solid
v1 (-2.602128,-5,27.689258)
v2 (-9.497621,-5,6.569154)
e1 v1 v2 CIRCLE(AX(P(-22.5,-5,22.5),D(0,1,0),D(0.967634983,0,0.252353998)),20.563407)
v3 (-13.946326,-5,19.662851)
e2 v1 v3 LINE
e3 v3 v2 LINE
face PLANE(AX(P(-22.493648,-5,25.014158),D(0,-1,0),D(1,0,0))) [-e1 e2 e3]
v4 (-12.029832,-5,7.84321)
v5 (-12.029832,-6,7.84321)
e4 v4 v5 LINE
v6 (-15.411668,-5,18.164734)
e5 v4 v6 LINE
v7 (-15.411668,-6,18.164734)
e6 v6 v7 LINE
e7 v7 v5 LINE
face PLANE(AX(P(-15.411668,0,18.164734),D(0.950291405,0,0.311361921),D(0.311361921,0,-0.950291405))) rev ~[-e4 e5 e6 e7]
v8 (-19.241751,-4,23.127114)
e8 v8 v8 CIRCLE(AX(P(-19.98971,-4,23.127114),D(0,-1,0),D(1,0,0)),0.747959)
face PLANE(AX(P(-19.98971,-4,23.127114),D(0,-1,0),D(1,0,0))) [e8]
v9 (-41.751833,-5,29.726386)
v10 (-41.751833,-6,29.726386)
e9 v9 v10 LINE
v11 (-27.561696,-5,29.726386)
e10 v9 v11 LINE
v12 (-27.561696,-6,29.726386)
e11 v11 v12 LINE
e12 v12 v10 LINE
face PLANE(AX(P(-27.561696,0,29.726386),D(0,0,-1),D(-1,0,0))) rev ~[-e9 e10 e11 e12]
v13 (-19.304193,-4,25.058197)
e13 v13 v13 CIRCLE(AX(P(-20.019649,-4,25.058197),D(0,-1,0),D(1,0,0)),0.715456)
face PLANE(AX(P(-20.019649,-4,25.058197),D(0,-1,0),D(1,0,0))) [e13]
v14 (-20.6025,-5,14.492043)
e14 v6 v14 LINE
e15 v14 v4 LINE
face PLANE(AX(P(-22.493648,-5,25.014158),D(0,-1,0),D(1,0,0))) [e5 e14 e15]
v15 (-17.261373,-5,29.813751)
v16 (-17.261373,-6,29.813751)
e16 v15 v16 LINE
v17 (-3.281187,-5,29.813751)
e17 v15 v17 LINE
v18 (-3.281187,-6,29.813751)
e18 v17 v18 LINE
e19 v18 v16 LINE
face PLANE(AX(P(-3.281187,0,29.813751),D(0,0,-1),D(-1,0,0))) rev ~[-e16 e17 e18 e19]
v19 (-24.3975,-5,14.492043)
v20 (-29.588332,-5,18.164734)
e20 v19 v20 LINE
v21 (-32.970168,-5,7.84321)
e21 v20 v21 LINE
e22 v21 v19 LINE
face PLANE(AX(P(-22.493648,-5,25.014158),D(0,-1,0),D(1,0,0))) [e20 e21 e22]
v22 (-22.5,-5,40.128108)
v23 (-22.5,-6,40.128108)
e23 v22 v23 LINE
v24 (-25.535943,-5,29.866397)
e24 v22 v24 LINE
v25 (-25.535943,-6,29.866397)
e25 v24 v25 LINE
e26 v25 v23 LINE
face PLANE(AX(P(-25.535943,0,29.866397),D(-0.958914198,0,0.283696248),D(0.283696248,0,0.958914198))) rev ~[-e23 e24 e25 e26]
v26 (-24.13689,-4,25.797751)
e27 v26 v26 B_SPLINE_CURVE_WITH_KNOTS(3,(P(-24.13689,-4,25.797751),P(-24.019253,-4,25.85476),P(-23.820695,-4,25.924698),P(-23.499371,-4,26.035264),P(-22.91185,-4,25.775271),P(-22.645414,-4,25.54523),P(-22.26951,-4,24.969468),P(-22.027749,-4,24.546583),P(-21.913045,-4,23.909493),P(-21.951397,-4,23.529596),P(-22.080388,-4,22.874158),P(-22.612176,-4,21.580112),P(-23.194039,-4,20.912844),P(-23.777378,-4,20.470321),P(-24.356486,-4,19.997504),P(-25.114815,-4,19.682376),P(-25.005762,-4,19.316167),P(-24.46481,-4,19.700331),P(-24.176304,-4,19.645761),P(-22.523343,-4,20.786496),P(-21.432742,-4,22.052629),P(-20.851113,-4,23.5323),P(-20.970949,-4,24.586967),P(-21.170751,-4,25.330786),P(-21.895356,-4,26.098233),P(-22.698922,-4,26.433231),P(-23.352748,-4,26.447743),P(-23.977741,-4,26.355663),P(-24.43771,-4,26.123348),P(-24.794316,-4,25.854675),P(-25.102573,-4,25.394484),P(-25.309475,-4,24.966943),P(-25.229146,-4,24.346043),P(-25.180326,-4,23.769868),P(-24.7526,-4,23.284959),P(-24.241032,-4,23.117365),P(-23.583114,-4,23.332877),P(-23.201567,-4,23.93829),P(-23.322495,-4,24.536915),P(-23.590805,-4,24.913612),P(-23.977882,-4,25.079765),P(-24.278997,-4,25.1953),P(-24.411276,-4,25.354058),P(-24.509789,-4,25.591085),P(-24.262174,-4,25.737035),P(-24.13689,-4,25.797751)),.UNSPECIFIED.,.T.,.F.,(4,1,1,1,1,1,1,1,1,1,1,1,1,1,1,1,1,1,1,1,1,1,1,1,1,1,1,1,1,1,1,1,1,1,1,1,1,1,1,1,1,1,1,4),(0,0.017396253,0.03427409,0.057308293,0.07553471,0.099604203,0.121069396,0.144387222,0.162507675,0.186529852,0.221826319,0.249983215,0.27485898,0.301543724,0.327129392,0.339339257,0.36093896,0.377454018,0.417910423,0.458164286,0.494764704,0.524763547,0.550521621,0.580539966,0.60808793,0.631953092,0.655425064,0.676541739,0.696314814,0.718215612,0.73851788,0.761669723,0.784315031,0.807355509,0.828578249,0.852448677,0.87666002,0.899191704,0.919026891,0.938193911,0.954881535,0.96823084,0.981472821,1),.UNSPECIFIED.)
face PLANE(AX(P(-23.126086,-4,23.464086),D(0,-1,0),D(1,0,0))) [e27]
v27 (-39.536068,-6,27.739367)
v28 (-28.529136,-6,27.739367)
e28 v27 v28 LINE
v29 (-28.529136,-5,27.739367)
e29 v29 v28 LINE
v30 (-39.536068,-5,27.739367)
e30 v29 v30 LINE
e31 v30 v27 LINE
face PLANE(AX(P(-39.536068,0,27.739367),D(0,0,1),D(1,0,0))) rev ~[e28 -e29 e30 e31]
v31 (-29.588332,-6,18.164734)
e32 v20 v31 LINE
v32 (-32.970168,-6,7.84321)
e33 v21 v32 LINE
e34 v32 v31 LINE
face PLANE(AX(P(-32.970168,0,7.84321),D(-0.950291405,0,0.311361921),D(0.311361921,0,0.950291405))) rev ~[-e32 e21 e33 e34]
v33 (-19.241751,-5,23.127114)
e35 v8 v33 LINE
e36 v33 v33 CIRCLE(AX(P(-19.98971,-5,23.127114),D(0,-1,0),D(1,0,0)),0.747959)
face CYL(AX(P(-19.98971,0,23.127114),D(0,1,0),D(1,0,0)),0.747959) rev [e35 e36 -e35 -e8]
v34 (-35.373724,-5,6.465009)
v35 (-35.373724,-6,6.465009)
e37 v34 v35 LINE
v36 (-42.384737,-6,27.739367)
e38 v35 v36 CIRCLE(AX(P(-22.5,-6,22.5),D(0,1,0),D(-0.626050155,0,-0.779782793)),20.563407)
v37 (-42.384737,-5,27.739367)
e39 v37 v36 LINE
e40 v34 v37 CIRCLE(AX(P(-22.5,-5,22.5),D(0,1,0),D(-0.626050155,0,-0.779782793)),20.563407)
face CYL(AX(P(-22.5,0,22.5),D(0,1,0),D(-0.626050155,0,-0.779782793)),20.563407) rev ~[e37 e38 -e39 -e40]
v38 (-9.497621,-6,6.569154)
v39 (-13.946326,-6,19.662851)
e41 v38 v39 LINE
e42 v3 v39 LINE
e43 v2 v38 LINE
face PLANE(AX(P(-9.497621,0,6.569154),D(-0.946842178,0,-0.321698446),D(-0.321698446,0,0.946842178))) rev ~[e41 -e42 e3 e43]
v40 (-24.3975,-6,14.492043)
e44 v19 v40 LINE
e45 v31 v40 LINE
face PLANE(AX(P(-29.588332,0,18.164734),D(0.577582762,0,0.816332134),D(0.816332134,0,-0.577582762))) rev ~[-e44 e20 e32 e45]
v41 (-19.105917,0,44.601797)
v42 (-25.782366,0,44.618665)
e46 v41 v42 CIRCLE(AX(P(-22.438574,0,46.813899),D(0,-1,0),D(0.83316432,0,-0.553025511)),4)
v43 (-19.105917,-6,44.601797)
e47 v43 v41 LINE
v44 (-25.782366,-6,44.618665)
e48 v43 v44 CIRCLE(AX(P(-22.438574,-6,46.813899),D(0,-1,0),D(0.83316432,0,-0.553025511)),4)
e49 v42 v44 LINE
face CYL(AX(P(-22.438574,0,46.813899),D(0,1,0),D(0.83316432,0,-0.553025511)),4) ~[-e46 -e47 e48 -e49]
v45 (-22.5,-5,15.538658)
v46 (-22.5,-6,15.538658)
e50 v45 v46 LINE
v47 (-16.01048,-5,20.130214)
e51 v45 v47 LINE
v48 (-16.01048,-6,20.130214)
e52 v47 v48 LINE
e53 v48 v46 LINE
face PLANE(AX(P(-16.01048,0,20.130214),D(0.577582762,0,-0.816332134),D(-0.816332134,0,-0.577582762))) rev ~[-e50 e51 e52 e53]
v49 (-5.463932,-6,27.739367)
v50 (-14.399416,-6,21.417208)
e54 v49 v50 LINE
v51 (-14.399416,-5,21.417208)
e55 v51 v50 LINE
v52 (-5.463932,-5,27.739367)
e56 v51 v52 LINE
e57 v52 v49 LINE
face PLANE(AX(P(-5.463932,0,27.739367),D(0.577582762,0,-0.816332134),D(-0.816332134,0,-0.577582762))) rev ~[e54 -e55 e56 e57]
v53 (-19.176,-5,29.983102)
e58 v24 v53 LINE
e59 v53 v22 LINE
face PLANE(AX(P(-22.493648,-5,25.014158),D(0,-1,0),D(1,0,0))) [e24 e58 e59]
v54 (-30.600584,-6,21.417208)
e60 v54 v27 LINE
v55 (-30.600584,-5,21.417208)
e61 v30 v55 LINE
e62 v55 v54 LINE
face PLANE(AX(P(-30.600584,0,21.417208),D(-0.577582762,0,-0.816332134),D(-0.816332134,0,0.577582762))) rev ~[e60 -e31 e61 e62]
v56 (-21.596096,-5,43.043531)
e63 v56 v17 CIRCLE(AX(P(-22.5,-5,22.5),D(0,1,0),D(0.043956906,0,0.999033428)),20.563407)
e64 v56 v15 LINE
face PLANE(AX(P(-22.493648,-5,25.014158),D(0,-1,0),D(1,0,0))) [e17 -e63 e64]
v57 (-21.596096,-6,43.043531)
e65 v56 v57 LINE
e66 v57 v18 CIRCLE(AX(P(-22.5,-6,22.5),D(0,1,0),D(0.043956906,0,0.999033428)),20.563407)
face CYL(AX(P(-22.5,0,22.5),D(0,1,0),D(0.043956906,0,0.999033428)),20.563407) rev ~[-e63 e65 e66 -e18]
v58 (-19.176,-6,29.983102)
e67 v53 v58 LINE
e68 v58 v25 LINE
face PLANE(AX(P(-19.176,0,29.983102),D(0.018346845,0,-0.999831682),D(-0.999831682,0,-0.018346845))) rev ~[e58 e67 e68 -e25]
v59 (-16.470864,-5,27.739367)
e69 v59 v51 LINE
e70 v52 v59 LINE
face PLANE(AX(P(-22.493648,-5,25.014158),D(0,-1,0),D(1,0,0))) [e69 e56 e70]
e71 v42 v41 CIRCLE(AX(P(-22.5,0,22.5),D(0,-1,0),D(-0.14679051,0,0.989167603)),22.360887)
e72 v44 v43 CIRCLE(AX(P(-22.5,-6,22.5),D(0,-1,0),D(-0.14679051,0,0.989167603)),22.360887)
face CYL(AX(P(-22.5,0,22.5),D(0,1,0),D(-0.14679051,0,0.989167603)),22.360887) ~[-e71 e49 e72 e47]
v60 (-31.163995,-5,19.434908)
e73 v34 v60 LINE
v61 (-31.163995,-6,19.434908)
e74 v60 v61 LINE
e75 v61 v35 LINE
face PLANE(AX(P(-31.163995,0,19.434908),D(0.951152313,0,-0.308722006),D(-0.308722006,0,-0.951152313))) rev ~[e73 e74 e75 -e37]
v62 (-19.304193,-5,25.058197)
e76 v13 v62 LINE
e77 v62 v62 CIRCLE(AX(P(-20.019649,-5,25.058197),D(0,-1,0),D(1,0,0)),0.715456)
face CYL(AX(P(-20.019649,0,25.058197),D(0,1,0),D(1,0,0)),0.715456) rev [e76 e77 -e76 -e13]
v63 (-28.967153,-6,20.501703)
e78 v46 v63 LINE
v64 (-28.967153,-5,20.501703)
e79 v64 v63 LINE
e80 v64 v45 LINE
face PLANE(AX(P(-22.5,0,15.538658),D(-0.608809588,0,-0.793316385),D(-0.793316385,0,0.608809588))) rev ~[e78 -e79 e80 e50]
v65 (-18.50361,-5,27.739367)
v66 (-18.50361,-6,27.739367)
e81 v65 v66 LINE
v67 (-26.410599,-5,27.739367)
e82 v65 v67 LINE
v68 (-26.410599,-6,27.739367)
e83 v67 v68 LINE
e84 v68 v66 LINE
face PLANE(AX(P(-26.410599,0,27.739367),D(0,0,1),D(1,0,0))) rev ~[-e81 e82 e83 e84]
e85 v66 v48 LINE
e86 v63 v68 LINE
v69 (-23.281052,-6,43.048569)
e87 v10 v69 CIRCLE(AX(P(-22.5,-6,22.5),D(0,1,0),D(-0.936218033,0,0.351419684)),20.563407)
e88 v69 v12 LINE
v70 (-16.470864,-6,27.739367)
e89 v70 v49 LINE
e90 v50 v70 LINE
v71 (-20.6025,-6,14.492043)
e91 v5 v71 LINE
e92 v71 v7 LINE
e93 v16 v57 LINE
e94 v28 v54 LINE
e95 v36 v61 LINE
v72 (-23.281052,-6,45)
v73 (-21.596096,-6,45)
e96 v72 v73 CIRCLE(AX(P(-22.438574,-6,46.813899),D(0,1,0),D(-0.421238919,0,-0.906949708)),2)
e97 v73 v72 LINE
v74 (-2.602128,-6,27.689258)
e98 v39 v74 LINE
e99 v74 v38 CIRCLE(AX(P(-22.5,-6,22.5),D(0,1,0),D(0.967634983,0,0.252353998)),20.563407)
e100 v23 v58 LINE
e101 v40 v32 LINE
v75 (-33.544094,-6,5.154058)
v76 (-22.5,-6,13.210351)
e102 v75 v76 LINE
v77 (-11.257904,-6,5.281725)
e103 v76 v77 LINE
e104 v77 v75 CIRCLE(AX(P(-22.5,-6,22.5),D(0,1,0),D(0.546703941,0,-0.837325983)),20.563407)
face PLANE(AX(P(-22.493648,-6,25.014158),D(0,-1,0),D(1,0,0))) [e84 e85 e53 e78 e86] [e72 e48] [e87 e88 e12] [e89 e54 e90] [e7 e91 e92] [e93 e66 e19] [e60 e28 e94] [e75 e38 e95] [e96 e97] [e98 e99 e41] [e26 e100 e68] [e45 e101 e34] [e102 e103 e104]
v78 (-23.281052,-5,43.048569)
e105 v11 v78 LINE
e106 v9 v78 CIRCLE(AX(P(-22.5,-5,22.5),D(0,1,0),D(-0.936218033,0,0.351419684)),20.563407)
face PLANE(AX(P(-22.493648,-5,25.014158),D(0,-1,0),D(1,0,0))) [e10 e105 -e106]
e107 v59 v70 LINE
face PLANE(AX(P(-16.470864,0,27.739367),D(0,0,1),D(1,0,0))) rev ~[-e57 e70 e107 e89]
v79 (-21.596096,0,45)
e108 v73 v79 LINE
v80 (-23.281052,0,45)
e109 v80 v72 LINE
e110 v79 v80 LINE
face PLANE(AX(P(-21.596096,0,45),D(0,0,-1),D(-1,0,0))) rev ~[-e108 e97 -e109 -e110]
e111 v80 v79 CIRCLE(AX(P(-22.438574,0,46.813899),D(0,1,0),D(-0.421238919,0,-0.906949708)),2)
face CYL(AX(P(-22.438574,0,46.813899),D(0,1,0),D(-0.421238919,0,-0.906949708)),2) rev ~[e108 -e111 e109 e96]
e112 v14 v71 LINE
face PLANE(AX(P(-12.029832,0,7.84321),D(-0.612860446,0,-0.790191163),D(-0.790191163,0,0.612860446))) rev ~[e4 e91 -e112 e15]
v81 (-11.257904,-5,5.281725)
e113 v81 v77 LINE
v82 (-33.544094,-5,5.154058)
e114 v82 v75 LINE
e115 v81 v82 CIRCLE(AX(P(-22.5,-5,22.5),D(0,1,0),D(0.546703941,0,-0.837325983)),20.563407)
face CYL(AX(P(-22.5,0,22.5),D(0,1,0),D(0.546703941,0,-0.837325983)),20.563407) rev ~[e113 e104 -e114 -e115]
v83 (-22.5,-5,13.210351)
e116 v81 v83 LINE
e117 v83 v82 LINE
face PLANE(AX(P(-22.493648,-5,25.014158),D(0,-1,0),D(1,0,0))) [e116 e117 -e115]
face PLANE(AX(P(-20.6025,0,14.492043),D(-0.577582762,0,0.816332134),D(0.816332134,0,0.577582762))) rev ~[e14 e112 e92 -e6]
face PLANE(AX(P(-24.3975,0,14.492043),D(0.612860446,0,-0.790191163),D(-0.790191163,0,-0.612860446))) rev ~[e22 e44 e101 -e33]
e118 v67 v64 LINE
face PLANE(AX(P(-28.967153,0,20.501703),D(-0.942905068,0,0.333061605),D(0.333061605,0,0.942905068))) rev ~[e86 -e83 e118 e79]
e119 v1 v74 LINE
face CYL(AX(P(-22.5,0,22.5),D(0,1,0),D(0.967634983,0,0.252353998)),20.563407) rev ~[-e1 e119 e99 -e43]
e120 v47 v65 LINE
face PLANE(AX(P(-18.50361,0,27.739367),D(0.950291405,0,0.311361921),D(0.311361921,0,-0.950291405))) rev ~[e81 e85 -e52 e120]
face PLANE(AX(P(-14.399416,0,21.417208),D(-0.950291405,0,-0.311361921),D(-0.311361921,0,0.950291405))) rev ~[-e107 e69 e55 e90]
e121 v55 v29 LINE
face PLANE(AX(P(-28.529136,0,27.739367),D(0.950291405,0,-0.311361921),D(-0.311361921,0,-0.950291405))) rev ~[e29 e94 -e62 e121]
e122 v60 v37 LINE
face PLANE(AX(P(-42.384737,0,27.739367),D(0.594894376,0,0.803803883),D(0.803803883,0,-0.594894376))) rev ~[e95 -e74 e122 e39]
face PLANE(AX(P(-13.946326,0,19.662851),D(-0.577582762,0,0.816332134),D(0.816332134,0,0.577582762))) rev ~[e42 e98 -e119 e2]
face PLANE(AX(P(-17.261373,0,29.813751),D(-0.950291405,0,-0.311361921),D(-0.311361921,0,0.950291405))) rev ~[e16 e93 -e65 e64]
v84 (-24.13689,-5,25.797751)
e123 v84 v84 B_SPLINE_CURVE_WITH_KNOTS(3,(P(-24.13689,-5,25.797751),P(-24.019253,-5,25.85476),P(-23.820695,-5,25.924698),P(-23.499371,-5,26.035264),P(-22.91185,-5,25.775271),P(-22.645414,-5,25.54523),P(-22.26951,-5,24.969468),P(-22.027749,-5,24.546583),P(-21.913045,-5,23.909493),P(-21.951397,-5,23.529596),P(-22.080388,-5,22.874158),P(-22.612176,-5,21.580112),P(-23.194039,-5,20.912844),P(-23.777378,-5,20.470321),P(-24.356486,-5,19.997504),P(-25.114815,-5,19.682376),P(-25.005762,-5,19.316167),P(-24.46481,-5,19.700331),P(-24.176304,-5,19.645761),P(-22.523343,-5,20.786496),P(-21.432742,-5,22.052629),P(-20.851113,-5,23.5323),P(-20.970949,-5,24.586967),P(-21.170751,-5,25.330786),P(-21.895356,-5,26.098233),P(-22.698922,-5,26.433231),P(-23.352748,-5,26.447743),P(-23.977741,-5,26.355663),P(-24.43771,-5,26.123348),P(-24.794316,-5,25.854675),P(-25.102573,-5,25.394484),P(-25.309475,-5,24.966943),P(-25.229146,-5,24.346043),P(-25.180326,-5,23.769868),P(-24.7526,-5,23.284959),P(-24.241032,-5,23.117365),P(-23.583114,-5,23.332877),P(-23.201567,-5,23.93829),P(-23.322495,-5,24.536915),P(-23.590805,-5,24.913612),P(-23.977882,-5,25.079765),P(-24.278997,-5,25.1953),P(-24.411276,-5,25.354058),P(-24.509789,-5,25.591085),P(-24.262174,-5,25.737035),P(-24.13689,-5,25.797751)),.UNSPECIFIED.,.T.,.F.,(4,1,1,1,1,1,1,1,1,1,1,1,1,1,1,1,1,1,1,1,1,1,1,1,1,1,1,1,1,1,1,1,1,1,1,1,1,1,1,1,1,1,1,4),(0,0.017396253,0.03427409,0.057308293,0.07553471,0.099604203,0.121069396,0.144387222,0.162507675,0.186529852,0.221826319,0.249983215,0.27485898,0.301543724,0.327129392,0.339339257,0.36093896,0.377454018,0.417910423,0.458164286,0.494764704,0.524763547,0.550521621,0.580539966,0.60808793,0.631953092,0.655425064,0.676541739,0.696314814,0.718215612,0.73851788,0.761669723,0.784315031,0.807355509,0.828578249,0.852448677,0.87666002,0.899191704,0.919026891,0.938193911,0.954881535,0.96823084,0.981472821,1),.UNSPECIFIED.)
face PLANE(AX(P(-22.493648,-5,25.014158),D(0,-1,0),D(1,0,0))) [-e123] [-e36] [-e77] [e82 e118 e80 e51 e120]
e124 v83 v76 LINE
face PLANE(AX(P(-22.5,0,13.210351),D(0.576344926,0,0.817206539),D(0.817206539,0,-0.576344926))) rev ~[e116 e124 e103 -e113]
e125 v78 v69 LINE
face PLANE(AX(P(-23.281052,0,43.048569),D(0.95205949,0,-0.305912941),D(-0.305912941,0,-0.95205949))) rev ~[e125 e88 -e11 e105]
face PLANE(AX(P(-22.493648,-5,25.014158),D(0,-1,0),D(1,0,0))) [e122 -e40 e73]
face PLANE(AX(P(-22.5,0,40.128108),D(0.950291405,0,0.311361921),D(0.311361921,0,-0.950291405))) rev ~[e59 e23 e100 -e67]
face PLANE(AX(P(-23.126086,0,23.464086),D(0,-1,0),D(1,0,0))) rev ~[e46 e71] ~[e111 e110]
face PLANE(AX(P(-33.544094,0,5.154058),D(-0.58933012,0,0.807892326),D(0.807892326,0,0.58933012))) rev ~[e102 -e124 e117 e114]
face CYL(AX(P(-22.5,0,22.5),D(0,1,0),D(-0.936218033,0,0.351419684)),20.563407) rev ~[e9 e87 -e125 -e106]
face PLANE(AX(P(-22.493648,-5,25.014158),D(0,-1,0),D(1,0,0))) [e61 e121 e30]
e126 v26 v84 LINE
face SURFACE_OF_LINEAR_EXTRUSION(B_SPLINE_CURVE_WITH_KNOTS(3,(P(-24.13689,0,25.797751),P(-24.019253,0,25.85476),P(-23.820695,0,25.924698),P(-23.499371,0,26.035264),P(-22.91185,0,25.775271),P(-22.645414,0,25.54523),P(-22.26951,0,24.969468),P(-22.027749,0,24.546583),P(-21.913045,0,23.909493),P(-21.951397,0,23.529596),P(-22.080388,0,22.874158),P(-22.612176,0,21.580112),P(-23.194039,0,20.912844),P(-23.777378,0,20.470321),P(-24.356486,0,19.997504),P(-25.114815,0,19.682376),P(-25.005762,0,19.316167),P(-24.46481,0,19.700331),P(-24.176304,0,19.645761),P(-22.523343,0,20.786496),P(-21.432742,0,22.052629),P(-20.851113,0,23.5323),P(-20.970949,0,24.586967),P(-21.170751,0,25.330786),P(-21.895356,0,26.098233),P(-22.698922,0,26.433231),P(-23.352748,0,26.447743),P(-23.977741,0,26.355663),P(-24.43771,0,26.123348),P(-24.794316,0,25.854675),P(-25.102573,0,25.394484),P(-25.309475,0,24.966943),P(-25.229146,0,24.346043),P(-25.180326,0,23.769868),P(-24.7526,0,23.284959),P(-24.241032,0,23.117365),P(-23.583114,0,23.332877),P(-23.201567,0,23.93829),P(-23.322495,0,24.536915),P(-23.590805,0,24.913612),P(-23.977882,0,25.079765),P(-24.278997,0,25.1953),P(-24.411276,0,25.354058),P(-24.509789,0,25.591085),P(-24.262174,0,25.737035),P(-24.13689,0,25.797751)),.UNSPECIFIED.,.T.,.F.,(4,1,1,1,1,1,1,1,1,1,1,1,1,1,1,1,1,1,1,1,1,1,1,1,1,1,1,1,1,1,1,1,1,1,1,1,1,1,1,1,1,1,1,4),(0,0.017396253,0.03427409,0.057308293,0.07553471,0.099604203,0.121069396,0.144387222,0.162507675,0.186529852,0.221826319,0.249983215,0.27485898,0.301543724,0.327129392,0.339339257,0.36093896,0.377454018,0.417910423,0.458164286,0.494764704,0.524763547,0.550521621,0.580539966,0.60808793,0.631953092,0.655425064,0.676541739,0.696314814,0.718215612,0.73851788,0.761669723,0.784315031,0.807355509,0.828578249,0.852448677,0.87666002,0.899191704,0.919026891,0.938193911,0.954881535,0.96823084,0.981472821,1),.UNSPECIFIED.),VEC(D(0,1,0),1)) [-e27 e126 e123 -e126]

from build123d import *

# Parameters (mm, degrees)
F0_R     = 0.7479592016
F0_R_2   = 0.7154556478
F1_DEPTH = 5
F2_DEPTH = 6
F3_DEPTH = 4


with BuildPart() as f1:
    # F0 (on Front) → F1 (new body)
    with BuildSketch(Plane.XZ):
        with BuildLine():
            ThreePointArc((-19.1059168052, 44.601797374), (-22.4284686377, 50.813886651), (-25.7823659332, 44.6186645568))
            ThreePointArc((-25.7823659332, 44.6186645568), (-22.5564916994, 0.1391847961), (-19.1059168052, 44.601797374))
        make_face()
        with BuildLine():
            ThreePointArc((-35.3737242613, 6.4650089014), (-42.0302013856, 16.0637783035), (-42.3847366474, 27.7393667893))
            Line((-42.3847366474, 27.7393667893), (-31.1639953467, 19.4349084049))
            Line((-31.1639953467, 19.4349084049), (-35.3737242613, 6.4650089014))
        make_face(mode=Mode.SUBTRACT)
        Polygon((-39.5360679381, 27.7393667893), (-28.5291355848, 27.7393667893), (-30.6005839361, 21.4172078039), align=None, mode=Mode.SUBTRACT)
        Polygon((-29.5883324513, 18.1647339323), (-24.3974999338, 14.492043294), (-32.9701682877, 7.8432099579), align=None, mode=Mode.SUBTRACT)
        with BuildLine():
            ThreePointArc((-11.2579042464, 5.2817248554), (-22.3822039471, 1.9369301908), (-33.5440937819, 5.1540578687))
            Line((-33.5440937819, 5.1540578687), (-22.5, 13.2103506476))
            Line((-22.5, 13.2103506476), (-11.2579042464, 5.2817248554))
        make_face(mode=Mode.SUBTRACT)
        Polygon((-12.0298317123, 7.8432099579), (-20.6025000662, 14.492043294), (-15.4116675487, 18.1647339323), align=None, mode=Mode.SUBTRACT)
        Polygon((-16.0104798027, 20.1302143785), (-22.5, 15.5386580154), (-28.967153281, 20.5017030239), (-26.4105990855, 27.7393667893), (-18.5036101167, 27.7393667893), align=None, mode=Mode.SUBTRACT)
        with BuildLine():
            ThreePointArc((-2.6021278232, 27.6892580129), (-2.9520760141, 16.1178072945), (-9.4976208394, 6.5691540698))
            Line((-9.4976208394, 6.5691540698), (-13.9463264495, 19.6628514677))
            Line((-13.9463264495, 19.6628514677), (-2.6021278232, 27.6892580129))
        make_face(mode=Mode.SUBTRACT)
        Polygon((-14.3994160639, 21.4172078039), (-16.4708644152, 27.7393667893), (-5.4639320619, 27.7393667893), align=None, mode=Mode.SUBTRACT)
        with BuildLine():
            ThreePointArc((-41.7518326466, 29.7263860703), (-34.5291002687, 39.1779633833), (-23.2810519253, 43.0485686552))
            Line((-23.2810519253, 43.0485686552), (-27.5616962463, 29.7263860703))
            Line((-27.5616962463, 29.7263860703), (-41.7518326466, 29.7263860703))
        make_face(mode=Mode.SUBTRACT)
        Polygon((-19.1760000154, 29.9831019124), (-25.5359429866, 29.8663973808), (-22.5, 40.128108114), align=None, mode=Mode.SUBTRACT)
        with BuildLine():
            ThreePointArc((-21.596096248, 43.0435311934), (-10.4589160289, 39.1693135038), (-3.281187186, 29.8137507415))
            Line((-3.281187186, 29.8137507415), (-17.2613734154, 29.8137507415))
            Line((-17.2613734154, 29.8137507415), (-21.596096248, 43.0435311934))
        make_face(mode=Mode.SUBTRACT)
        with BuildLine():
            ThreePointArc((-23.2810519253, 45), (-22.4385740867, 48.813899416), (-21.596096248, 45))
            Line((-21.596096248, 45), (-23.2810519253, 45))
        make_face(mode=Mode.SUBTRACT)
        with BuildLine():
            Line((-27.5616962463, 29.7263860703), (-23.2810519253, 43.0485686552))
            ThreePointArc((-23.2810519253, 43.0485686552), (-34.5291002687, 39.1779633833), (-41.7518326466, 29.7263860703))
            Line((-41.7518326466, 29.7263860703), (-27.5616962463, 29.7263860703))
        make_face()
        with BuildLine():
            Line((-17.2613734154, 29.8137507415), (-3.281187186, 29.8137507415))
            ThreePointArc((-3.281187186, 29.8137507415), (-10.4589160289, 39.1693135038), (-21.596096248, 43.0435311934))
            Line((-21.596096248, 43.0435311934), (-17.2613734154, 29.8137507415))
        make_face()
        with BuildLine():
            Line((-13.9463264495, 19.6628514677), (-9.4976208394, 6.5691540698))
            ThreePointArc((-9.4976208394, 6.5691540698), (-2.9520760141, 16.1178072945), (-2.6021278232, 27.6892580129))
            Line((-2.6021278232, 27.6892580129), (-13.9463264495, 19.6628514677))
        make_face()
        with BuildLine():
            Line((-31.1639953467, 19.4349084049), (-42.3847366474, 27.7393667893))
            ThreePointArc((-42.3847366474, 27.7393667893), (-42.0302013856, 16.0637783035), (-35.3737242613, 6.4650089014))
            Line((-35.3737242613, 6.4650089014), (-31.1639953467, 19.4349084049))
        make_face()
        with BuildLine():
            Line((-22.5, 13.2103506476), (-33.5440937819, 5.1540578687))
            ThreePointArc((-33.5440937819, 5.1540578687), (-22.3822039471, 1.9369301908), (-11.2579042464, 5.2817248554))
            Line((-11.2579042464, 5.2817248554), (-22.5, 13.2103506476))
        make_face()
        Polygon((-28.967153281, 20.5017030239), (-22.5, 15.5386580154), (-16.0104798027, 20.1302143785), (-18.5036101167, 27.7393667893), (-26.4105990855, 27.7393667893), align=None)
        with BuildLine():
            add(Edge.make_bspline(
                [(-24.1368897259, 25.7977508008), (-24.0192526664, 25.8547602817), (-23.8206951319, 25.9246981149), (-23.4993709237, 26.035264187), (-22.9118502468, 25.7752706065), (-22.6454139435, 25.5452303422), (-22.2695101158, 24.9694677434), (-22.0277491804, 24.546582719), (-21.9130452886, 23.9094929922), (-21.9513966063, 23.5295958586), (-22.0803883734, 22.8741580146), (-22.6121756403, 21.5801117775), (-23.1940389074, 20.9128444702), (-23.7773781953, 20.4703212241), (-24.3564861124, 19.9975043004), (-25.1148150446, 19.6823758793), (-25.0057622775, 19.3161669868), (-24.46480957, 19.7003306914), (-24.1763038032, 19.6457608485), (-22.5233429796, 20.7864962244), (-21.4327424976, 22.0526293772), (-20.8511128391, 23.5323004136), (-20.970949499, 24.5869666942), (-21.1707513877, 25.3307861717), (-21.8953561674, 26.0982333692), (-22.6989218202, 26.4332313934), (-23.3527478288, 26.4477425249), (-23.9777412447, 26.3556629823), (-24.4377100211, 26.1233476831), (-24.7943158394, 25.854675352), (-25.1025725665, 25.3944840878), (-25.3094748751, 24.9669434146), (-25.22914595, 24.3460425378), (-25.1803259356, 23.7698675478), (-24.7525997744, 23.2849589824), (-24.2410315704, 23.1173649804), (-23.5831143232, 23.3328771925), (-23.2015674218, 23.9382897559), (-23.3224948624, 24.536914912), (-23.5908050552, 24.9136124499), (-23.9778820676, 25.0797645038), (-24.2789970507, 25.1952998813), (-24.411275591, 25.3540581553), (-24.5097889288, 25.5910854375), (-24.2621743389, 25.7370351491), (-24.1368897259, 25.7977508008)],
                knots=[0, 0, 0, 0, 0.0173962531, 0.0342740902, 0.0573082931, 0.0755347102, 0.0996042031, 0.1210693965, 0.1443872224, 0.1625076754, 0.186529852, 0.2218263186, 0.2499832154, 0.27485898, 0.3015437244, 0.3271293918, 0.3393392565, 0.3609389604, 0.3774540175, 0.4179104228, 0.4581642864, 0.4947647039, 0.5247635473, 0.5505216211, 0.580539966, 0.60808793, 0.6319530915, 0.6554250636, 0.6765417388, 0.6963148145, 0.7182156124, 0.7385178801, 0.7616697228, 0.7843150308, 0.8073555091, 0.828578249, 0.8524486773, 0.8766600199, 0.8991917039, 0.9190268914, 0.9381939111, 0.9548815349, 0.9682308397, 0.9814728212, 1, 1, 1, 1], degree=3))
        make_face(mode=Mode.SUBTRACT)
        with Locations((-19.9897103012, 23.1271144003)):
            Circle(F0_R, mode=Mode.SUBTRACT)
        with Locations((-20.0196485966, 25.0581968576)):
            Circle(F0_R_2, mode=Mode.SUBTRACT)
        Polygon((-5.4639320619, 27.7393667893), (-16.4708644152, 27.7393667893), (-14.3994160639, 21.4172078039), align=None)
        Polygon((-30.6005839361, 21.4172078039), (-28.5291355848, 27.7393667893), (-39.5360679381, 27.7393667893), align=None)
        Polygon((-32.9701682877, 7.8432099579), (-24.3974999338, 14.492043294), (-29.5883324513, 18.1647339323), align=None)
        Polygon((-15.4116675487, 18.1647339323), (-20.6025000662, 14.492043294), (-12.0298317123, 7.8432099579), align=None)
        Polygon((-22.5, 40.128108114), (-25.5359429866, 29.8663973808), (-19.1760000154, 29.9831019124), align=None)
    extrude(amount=F1_DEPTH)

    # F0 (on Front) → F2 (join)
    with BuildSketch(Plane.XZ):
        with BuildLine():
            ThreePointArc((-19.1059168052, 44.601797374), (-22.4284686377, 50.813886651), (-25.7823659332, 44.6186645568))
            ThreePointArc((-25.7823659332, 44.6186645568), (-22.5564916994, 0.1391847961), (-19.1059168052, 44.601797374))
        make_face()
        with BuildLine():
            ThreePointArc((-35.3737242613, 6.4650089014), (-42.0302013856, 16.0637783035), (-42.3847366474, 27.7393667893))
            Line((-42.3847366474, 27.7393667893), (-31.1639953467, 19.4349084049))
            Line((-31.1639953467, 19.4349084049), (-35.3737242613, 6.4650089014))
        make_face(mode=Mode.SUBTRACT)
        Polygon((-39.5360679381, 27.7393667893), (-28.5291355848, 27.7393667893), (-30.6005839361, 21.4172078039), align=None, mode=Mode.SUBTRACT)
        Polygon((-29.5883324513, 18.1647339323), (-24.3974999338, 14.492043294), (-32.9701682877, 7.8432099579), align=None, mode=Mode.SUBTRACT)
        with BuildLine():
            ThreePointArc((-11.2579042464, 5.2817248554), (-22.3822039471, 1.9369301908), (-33.5440937819, 5.1540578687))
            Line((-33.5440937819, 5.1540578687), (-22.5, 13.2103506476))
            Line((-22.5, 13.2103506476), (-11.2579042464, 5.2817248554))
        make_face(mode=Mode.SUBTRACT)
        Polygon((-12.0298317123, 7.8432099579), (-20.6025000662, 14.492043294), (-15.4116675487, 18.1647339323), align=None, mode=Mode.SUBTRACT)
        Polygon((-16.0104798027, 20.1302143785), (-22.5, 15.5386580154), (-28.967153281, 20.5017030239), (-26.4105990855, 27.7393667893), (-18.5036101167, 27.7393667893), align=None, mode=Mode.SUBTRACT)
        with BuildLine():
            ThreePointArc((-2.6021278232, 27.6892580129), (-2.9520760141, 16.1178072945), (-9.4976208394, 6.5691540698))
            Line((-9.4976208394, 6.5691540698), (-13.9463264495, 19.6628514677))
            Line((-13.9463264495, 19.6628514677), (-2.6021278232, 27.6892580129))
        make_face(mode=Mode.SUBTRACT)
        Polygon((-14.3994160639, 21.4172078039), (-16.4708644152, 27.7393667893), (-5.4639320619, 27.7393667893), align=None, mode=Mode.SUBTRACT)
        with BuildLine():
            ThreePointArc((-41.7518326466, 29.7263860703), (-34.5291002687, 39.1779633833), (-23.2810519253, 43.0485686552))
            Line((-23.2810519253, 43.0485686552), (-27.5616962463, 29.7263860703))
            Line((-27.5616962463, 29.7263860703), (-41.7518326466, 29.7263860703))
        make_face(mode=Mode.SUBTRACT)
        Polygon((-19.1760000154, 29.9831019124), (-25.5359429866, 29.8663973808), (-22.5, 40.128108114), align=None, mode=Mode.SUBTRACT)
        with BuildLine():
            ThreePointArc((-21.596096248, 43.0435311934), (-10.4589160289, 39.1693135038), (-3.281187186, 29.8137507415))
            Line((-3.281187186, 29.8137507415), (-17.2613734154, 29.8137507415))
            Line((-17.2613734154, 29.8137507415), (-21.596096248, 43.0435311934))
        make_face(mode=Mode.SUBTRACT)
        with BuildLine():
            ThreePointArc((-23.2810519253, 45), (-22.4385740867, 48.813899416), (-21.596096248, 45))
            Line((-21.596096248, 45), (-23.2810519253, 45))
        make_face(mode=Mode.SUBTRACT)
    extrude(amount=F2_DEPTH)

    # F0 (on Front) → F3 (join)
    with BuildSketch(Plane.XZ):
        with BuildLine():
            add(Edge.make_bspline(
                [(-24.1368897259, 25.7977508008), (-24.0192526664, 25.8547602817), (-23.8206951319, 25.9246981149), (-23.4993709237, 26.035264187), (-22.9118502468, 25.7752706065), (-22.6454139435, 25.5452303422), (-22.2695101158, 24.9694677434), (-22.0277491804, 24.546582719), (-21.9130452886, 23.9094929922), (-21.9513966063, 23.5295958586), (-22.0803883734, 22.8741580146), (-22.6121756403, 21.5801117775), (-23.1940389074, 20.9128444702), (-23.7773781953, 20.4703212241), (-24.3564861124, 19.9975043004), (-25.1148150446, 19.6823758793), (-25.0057622775, 19.3161669868), (-24.46480957, 19.7003306914), (-24.1763038032, 19.6457608485), (-22.5233429796, 20.7864962244), (-21.4327424976, 22.0526293772), (-20.8511128391, 23.5323004136), (-20.970949499, 24.5869666942), (-21.1707513877, 25.3307861717), (-21.8953561674, 26.0982333692), (-22.6989218202, 26.4332313934), (-23.3527478288, 26.4477425249), (-23.9777412447, 26.3556629823), (-24.4377100211, 26.1233476831), (-24.7943158394, 25.854675352), (-25.1025725665, 25.3944840878), (-25.3094748751, 24.9669434146), (-25.22914595, 24.3460425378), (-25.1803259356, 23.7698675478), (-24.7525997744, 23.2849589824), (-24.2410315704, 23.1173649804), (-23.5831143232, 23.3328771925), (-23.2015674218, 23.9382897559), (-23.3224948624, 24.536914912), (-23.5908050552, 24.9136124499), (-23.9778820676, 25.0797645038), (-24.2789970507, 25.1952998813), (-24.411275591, 25.3540581553), (-24.5097889288, 25.5910854375), (-24.2621743389, 25.7370351491), (-24.1368897259, 25.7977508008)],
                knots=[0, 0, 0, 0, 0.0173962531, 0.0342740902, 0.0573082931, 0.0755347102, 0.0996042031, 0.1210693965, 0.1443872224, 0.1625076754, 0.186529852, 0.2218263186, 0.2499832154, 0.27485898, 0.3015437244, 0.3271293918, 0.3393392565, 0.3609389604, 0.3774540175, 0.4179104228, 0.4581642864, 0.4947647039, 0.5247635473, 0.5505216211, 0.580539966, 0.60808793, 0.6319530915, 0.6554250636, 0.6765417388, 0.6963148145, 0.7182156124, 0.7385178801, 0.7616697228, 0.7843150308, 0.8073555091, 0.828578249, 0.8524486773, 0.8766600199, 0.8991917039, 0.9190268914, 0.9381939111, 0.9548815349, 0.9682308397, 0.9814728212, 1, 1, 1, 1], degree=3))
        make_face()
        with Locations((-20.0196485966, 25.0581968576)):
            Circle(F0_R_2)
        with Locations((-19.9897103012, 23.1271144003)):
            Circle(F0_R)
    extrude(amount=F3_DEPTH)


solid = f1.part
